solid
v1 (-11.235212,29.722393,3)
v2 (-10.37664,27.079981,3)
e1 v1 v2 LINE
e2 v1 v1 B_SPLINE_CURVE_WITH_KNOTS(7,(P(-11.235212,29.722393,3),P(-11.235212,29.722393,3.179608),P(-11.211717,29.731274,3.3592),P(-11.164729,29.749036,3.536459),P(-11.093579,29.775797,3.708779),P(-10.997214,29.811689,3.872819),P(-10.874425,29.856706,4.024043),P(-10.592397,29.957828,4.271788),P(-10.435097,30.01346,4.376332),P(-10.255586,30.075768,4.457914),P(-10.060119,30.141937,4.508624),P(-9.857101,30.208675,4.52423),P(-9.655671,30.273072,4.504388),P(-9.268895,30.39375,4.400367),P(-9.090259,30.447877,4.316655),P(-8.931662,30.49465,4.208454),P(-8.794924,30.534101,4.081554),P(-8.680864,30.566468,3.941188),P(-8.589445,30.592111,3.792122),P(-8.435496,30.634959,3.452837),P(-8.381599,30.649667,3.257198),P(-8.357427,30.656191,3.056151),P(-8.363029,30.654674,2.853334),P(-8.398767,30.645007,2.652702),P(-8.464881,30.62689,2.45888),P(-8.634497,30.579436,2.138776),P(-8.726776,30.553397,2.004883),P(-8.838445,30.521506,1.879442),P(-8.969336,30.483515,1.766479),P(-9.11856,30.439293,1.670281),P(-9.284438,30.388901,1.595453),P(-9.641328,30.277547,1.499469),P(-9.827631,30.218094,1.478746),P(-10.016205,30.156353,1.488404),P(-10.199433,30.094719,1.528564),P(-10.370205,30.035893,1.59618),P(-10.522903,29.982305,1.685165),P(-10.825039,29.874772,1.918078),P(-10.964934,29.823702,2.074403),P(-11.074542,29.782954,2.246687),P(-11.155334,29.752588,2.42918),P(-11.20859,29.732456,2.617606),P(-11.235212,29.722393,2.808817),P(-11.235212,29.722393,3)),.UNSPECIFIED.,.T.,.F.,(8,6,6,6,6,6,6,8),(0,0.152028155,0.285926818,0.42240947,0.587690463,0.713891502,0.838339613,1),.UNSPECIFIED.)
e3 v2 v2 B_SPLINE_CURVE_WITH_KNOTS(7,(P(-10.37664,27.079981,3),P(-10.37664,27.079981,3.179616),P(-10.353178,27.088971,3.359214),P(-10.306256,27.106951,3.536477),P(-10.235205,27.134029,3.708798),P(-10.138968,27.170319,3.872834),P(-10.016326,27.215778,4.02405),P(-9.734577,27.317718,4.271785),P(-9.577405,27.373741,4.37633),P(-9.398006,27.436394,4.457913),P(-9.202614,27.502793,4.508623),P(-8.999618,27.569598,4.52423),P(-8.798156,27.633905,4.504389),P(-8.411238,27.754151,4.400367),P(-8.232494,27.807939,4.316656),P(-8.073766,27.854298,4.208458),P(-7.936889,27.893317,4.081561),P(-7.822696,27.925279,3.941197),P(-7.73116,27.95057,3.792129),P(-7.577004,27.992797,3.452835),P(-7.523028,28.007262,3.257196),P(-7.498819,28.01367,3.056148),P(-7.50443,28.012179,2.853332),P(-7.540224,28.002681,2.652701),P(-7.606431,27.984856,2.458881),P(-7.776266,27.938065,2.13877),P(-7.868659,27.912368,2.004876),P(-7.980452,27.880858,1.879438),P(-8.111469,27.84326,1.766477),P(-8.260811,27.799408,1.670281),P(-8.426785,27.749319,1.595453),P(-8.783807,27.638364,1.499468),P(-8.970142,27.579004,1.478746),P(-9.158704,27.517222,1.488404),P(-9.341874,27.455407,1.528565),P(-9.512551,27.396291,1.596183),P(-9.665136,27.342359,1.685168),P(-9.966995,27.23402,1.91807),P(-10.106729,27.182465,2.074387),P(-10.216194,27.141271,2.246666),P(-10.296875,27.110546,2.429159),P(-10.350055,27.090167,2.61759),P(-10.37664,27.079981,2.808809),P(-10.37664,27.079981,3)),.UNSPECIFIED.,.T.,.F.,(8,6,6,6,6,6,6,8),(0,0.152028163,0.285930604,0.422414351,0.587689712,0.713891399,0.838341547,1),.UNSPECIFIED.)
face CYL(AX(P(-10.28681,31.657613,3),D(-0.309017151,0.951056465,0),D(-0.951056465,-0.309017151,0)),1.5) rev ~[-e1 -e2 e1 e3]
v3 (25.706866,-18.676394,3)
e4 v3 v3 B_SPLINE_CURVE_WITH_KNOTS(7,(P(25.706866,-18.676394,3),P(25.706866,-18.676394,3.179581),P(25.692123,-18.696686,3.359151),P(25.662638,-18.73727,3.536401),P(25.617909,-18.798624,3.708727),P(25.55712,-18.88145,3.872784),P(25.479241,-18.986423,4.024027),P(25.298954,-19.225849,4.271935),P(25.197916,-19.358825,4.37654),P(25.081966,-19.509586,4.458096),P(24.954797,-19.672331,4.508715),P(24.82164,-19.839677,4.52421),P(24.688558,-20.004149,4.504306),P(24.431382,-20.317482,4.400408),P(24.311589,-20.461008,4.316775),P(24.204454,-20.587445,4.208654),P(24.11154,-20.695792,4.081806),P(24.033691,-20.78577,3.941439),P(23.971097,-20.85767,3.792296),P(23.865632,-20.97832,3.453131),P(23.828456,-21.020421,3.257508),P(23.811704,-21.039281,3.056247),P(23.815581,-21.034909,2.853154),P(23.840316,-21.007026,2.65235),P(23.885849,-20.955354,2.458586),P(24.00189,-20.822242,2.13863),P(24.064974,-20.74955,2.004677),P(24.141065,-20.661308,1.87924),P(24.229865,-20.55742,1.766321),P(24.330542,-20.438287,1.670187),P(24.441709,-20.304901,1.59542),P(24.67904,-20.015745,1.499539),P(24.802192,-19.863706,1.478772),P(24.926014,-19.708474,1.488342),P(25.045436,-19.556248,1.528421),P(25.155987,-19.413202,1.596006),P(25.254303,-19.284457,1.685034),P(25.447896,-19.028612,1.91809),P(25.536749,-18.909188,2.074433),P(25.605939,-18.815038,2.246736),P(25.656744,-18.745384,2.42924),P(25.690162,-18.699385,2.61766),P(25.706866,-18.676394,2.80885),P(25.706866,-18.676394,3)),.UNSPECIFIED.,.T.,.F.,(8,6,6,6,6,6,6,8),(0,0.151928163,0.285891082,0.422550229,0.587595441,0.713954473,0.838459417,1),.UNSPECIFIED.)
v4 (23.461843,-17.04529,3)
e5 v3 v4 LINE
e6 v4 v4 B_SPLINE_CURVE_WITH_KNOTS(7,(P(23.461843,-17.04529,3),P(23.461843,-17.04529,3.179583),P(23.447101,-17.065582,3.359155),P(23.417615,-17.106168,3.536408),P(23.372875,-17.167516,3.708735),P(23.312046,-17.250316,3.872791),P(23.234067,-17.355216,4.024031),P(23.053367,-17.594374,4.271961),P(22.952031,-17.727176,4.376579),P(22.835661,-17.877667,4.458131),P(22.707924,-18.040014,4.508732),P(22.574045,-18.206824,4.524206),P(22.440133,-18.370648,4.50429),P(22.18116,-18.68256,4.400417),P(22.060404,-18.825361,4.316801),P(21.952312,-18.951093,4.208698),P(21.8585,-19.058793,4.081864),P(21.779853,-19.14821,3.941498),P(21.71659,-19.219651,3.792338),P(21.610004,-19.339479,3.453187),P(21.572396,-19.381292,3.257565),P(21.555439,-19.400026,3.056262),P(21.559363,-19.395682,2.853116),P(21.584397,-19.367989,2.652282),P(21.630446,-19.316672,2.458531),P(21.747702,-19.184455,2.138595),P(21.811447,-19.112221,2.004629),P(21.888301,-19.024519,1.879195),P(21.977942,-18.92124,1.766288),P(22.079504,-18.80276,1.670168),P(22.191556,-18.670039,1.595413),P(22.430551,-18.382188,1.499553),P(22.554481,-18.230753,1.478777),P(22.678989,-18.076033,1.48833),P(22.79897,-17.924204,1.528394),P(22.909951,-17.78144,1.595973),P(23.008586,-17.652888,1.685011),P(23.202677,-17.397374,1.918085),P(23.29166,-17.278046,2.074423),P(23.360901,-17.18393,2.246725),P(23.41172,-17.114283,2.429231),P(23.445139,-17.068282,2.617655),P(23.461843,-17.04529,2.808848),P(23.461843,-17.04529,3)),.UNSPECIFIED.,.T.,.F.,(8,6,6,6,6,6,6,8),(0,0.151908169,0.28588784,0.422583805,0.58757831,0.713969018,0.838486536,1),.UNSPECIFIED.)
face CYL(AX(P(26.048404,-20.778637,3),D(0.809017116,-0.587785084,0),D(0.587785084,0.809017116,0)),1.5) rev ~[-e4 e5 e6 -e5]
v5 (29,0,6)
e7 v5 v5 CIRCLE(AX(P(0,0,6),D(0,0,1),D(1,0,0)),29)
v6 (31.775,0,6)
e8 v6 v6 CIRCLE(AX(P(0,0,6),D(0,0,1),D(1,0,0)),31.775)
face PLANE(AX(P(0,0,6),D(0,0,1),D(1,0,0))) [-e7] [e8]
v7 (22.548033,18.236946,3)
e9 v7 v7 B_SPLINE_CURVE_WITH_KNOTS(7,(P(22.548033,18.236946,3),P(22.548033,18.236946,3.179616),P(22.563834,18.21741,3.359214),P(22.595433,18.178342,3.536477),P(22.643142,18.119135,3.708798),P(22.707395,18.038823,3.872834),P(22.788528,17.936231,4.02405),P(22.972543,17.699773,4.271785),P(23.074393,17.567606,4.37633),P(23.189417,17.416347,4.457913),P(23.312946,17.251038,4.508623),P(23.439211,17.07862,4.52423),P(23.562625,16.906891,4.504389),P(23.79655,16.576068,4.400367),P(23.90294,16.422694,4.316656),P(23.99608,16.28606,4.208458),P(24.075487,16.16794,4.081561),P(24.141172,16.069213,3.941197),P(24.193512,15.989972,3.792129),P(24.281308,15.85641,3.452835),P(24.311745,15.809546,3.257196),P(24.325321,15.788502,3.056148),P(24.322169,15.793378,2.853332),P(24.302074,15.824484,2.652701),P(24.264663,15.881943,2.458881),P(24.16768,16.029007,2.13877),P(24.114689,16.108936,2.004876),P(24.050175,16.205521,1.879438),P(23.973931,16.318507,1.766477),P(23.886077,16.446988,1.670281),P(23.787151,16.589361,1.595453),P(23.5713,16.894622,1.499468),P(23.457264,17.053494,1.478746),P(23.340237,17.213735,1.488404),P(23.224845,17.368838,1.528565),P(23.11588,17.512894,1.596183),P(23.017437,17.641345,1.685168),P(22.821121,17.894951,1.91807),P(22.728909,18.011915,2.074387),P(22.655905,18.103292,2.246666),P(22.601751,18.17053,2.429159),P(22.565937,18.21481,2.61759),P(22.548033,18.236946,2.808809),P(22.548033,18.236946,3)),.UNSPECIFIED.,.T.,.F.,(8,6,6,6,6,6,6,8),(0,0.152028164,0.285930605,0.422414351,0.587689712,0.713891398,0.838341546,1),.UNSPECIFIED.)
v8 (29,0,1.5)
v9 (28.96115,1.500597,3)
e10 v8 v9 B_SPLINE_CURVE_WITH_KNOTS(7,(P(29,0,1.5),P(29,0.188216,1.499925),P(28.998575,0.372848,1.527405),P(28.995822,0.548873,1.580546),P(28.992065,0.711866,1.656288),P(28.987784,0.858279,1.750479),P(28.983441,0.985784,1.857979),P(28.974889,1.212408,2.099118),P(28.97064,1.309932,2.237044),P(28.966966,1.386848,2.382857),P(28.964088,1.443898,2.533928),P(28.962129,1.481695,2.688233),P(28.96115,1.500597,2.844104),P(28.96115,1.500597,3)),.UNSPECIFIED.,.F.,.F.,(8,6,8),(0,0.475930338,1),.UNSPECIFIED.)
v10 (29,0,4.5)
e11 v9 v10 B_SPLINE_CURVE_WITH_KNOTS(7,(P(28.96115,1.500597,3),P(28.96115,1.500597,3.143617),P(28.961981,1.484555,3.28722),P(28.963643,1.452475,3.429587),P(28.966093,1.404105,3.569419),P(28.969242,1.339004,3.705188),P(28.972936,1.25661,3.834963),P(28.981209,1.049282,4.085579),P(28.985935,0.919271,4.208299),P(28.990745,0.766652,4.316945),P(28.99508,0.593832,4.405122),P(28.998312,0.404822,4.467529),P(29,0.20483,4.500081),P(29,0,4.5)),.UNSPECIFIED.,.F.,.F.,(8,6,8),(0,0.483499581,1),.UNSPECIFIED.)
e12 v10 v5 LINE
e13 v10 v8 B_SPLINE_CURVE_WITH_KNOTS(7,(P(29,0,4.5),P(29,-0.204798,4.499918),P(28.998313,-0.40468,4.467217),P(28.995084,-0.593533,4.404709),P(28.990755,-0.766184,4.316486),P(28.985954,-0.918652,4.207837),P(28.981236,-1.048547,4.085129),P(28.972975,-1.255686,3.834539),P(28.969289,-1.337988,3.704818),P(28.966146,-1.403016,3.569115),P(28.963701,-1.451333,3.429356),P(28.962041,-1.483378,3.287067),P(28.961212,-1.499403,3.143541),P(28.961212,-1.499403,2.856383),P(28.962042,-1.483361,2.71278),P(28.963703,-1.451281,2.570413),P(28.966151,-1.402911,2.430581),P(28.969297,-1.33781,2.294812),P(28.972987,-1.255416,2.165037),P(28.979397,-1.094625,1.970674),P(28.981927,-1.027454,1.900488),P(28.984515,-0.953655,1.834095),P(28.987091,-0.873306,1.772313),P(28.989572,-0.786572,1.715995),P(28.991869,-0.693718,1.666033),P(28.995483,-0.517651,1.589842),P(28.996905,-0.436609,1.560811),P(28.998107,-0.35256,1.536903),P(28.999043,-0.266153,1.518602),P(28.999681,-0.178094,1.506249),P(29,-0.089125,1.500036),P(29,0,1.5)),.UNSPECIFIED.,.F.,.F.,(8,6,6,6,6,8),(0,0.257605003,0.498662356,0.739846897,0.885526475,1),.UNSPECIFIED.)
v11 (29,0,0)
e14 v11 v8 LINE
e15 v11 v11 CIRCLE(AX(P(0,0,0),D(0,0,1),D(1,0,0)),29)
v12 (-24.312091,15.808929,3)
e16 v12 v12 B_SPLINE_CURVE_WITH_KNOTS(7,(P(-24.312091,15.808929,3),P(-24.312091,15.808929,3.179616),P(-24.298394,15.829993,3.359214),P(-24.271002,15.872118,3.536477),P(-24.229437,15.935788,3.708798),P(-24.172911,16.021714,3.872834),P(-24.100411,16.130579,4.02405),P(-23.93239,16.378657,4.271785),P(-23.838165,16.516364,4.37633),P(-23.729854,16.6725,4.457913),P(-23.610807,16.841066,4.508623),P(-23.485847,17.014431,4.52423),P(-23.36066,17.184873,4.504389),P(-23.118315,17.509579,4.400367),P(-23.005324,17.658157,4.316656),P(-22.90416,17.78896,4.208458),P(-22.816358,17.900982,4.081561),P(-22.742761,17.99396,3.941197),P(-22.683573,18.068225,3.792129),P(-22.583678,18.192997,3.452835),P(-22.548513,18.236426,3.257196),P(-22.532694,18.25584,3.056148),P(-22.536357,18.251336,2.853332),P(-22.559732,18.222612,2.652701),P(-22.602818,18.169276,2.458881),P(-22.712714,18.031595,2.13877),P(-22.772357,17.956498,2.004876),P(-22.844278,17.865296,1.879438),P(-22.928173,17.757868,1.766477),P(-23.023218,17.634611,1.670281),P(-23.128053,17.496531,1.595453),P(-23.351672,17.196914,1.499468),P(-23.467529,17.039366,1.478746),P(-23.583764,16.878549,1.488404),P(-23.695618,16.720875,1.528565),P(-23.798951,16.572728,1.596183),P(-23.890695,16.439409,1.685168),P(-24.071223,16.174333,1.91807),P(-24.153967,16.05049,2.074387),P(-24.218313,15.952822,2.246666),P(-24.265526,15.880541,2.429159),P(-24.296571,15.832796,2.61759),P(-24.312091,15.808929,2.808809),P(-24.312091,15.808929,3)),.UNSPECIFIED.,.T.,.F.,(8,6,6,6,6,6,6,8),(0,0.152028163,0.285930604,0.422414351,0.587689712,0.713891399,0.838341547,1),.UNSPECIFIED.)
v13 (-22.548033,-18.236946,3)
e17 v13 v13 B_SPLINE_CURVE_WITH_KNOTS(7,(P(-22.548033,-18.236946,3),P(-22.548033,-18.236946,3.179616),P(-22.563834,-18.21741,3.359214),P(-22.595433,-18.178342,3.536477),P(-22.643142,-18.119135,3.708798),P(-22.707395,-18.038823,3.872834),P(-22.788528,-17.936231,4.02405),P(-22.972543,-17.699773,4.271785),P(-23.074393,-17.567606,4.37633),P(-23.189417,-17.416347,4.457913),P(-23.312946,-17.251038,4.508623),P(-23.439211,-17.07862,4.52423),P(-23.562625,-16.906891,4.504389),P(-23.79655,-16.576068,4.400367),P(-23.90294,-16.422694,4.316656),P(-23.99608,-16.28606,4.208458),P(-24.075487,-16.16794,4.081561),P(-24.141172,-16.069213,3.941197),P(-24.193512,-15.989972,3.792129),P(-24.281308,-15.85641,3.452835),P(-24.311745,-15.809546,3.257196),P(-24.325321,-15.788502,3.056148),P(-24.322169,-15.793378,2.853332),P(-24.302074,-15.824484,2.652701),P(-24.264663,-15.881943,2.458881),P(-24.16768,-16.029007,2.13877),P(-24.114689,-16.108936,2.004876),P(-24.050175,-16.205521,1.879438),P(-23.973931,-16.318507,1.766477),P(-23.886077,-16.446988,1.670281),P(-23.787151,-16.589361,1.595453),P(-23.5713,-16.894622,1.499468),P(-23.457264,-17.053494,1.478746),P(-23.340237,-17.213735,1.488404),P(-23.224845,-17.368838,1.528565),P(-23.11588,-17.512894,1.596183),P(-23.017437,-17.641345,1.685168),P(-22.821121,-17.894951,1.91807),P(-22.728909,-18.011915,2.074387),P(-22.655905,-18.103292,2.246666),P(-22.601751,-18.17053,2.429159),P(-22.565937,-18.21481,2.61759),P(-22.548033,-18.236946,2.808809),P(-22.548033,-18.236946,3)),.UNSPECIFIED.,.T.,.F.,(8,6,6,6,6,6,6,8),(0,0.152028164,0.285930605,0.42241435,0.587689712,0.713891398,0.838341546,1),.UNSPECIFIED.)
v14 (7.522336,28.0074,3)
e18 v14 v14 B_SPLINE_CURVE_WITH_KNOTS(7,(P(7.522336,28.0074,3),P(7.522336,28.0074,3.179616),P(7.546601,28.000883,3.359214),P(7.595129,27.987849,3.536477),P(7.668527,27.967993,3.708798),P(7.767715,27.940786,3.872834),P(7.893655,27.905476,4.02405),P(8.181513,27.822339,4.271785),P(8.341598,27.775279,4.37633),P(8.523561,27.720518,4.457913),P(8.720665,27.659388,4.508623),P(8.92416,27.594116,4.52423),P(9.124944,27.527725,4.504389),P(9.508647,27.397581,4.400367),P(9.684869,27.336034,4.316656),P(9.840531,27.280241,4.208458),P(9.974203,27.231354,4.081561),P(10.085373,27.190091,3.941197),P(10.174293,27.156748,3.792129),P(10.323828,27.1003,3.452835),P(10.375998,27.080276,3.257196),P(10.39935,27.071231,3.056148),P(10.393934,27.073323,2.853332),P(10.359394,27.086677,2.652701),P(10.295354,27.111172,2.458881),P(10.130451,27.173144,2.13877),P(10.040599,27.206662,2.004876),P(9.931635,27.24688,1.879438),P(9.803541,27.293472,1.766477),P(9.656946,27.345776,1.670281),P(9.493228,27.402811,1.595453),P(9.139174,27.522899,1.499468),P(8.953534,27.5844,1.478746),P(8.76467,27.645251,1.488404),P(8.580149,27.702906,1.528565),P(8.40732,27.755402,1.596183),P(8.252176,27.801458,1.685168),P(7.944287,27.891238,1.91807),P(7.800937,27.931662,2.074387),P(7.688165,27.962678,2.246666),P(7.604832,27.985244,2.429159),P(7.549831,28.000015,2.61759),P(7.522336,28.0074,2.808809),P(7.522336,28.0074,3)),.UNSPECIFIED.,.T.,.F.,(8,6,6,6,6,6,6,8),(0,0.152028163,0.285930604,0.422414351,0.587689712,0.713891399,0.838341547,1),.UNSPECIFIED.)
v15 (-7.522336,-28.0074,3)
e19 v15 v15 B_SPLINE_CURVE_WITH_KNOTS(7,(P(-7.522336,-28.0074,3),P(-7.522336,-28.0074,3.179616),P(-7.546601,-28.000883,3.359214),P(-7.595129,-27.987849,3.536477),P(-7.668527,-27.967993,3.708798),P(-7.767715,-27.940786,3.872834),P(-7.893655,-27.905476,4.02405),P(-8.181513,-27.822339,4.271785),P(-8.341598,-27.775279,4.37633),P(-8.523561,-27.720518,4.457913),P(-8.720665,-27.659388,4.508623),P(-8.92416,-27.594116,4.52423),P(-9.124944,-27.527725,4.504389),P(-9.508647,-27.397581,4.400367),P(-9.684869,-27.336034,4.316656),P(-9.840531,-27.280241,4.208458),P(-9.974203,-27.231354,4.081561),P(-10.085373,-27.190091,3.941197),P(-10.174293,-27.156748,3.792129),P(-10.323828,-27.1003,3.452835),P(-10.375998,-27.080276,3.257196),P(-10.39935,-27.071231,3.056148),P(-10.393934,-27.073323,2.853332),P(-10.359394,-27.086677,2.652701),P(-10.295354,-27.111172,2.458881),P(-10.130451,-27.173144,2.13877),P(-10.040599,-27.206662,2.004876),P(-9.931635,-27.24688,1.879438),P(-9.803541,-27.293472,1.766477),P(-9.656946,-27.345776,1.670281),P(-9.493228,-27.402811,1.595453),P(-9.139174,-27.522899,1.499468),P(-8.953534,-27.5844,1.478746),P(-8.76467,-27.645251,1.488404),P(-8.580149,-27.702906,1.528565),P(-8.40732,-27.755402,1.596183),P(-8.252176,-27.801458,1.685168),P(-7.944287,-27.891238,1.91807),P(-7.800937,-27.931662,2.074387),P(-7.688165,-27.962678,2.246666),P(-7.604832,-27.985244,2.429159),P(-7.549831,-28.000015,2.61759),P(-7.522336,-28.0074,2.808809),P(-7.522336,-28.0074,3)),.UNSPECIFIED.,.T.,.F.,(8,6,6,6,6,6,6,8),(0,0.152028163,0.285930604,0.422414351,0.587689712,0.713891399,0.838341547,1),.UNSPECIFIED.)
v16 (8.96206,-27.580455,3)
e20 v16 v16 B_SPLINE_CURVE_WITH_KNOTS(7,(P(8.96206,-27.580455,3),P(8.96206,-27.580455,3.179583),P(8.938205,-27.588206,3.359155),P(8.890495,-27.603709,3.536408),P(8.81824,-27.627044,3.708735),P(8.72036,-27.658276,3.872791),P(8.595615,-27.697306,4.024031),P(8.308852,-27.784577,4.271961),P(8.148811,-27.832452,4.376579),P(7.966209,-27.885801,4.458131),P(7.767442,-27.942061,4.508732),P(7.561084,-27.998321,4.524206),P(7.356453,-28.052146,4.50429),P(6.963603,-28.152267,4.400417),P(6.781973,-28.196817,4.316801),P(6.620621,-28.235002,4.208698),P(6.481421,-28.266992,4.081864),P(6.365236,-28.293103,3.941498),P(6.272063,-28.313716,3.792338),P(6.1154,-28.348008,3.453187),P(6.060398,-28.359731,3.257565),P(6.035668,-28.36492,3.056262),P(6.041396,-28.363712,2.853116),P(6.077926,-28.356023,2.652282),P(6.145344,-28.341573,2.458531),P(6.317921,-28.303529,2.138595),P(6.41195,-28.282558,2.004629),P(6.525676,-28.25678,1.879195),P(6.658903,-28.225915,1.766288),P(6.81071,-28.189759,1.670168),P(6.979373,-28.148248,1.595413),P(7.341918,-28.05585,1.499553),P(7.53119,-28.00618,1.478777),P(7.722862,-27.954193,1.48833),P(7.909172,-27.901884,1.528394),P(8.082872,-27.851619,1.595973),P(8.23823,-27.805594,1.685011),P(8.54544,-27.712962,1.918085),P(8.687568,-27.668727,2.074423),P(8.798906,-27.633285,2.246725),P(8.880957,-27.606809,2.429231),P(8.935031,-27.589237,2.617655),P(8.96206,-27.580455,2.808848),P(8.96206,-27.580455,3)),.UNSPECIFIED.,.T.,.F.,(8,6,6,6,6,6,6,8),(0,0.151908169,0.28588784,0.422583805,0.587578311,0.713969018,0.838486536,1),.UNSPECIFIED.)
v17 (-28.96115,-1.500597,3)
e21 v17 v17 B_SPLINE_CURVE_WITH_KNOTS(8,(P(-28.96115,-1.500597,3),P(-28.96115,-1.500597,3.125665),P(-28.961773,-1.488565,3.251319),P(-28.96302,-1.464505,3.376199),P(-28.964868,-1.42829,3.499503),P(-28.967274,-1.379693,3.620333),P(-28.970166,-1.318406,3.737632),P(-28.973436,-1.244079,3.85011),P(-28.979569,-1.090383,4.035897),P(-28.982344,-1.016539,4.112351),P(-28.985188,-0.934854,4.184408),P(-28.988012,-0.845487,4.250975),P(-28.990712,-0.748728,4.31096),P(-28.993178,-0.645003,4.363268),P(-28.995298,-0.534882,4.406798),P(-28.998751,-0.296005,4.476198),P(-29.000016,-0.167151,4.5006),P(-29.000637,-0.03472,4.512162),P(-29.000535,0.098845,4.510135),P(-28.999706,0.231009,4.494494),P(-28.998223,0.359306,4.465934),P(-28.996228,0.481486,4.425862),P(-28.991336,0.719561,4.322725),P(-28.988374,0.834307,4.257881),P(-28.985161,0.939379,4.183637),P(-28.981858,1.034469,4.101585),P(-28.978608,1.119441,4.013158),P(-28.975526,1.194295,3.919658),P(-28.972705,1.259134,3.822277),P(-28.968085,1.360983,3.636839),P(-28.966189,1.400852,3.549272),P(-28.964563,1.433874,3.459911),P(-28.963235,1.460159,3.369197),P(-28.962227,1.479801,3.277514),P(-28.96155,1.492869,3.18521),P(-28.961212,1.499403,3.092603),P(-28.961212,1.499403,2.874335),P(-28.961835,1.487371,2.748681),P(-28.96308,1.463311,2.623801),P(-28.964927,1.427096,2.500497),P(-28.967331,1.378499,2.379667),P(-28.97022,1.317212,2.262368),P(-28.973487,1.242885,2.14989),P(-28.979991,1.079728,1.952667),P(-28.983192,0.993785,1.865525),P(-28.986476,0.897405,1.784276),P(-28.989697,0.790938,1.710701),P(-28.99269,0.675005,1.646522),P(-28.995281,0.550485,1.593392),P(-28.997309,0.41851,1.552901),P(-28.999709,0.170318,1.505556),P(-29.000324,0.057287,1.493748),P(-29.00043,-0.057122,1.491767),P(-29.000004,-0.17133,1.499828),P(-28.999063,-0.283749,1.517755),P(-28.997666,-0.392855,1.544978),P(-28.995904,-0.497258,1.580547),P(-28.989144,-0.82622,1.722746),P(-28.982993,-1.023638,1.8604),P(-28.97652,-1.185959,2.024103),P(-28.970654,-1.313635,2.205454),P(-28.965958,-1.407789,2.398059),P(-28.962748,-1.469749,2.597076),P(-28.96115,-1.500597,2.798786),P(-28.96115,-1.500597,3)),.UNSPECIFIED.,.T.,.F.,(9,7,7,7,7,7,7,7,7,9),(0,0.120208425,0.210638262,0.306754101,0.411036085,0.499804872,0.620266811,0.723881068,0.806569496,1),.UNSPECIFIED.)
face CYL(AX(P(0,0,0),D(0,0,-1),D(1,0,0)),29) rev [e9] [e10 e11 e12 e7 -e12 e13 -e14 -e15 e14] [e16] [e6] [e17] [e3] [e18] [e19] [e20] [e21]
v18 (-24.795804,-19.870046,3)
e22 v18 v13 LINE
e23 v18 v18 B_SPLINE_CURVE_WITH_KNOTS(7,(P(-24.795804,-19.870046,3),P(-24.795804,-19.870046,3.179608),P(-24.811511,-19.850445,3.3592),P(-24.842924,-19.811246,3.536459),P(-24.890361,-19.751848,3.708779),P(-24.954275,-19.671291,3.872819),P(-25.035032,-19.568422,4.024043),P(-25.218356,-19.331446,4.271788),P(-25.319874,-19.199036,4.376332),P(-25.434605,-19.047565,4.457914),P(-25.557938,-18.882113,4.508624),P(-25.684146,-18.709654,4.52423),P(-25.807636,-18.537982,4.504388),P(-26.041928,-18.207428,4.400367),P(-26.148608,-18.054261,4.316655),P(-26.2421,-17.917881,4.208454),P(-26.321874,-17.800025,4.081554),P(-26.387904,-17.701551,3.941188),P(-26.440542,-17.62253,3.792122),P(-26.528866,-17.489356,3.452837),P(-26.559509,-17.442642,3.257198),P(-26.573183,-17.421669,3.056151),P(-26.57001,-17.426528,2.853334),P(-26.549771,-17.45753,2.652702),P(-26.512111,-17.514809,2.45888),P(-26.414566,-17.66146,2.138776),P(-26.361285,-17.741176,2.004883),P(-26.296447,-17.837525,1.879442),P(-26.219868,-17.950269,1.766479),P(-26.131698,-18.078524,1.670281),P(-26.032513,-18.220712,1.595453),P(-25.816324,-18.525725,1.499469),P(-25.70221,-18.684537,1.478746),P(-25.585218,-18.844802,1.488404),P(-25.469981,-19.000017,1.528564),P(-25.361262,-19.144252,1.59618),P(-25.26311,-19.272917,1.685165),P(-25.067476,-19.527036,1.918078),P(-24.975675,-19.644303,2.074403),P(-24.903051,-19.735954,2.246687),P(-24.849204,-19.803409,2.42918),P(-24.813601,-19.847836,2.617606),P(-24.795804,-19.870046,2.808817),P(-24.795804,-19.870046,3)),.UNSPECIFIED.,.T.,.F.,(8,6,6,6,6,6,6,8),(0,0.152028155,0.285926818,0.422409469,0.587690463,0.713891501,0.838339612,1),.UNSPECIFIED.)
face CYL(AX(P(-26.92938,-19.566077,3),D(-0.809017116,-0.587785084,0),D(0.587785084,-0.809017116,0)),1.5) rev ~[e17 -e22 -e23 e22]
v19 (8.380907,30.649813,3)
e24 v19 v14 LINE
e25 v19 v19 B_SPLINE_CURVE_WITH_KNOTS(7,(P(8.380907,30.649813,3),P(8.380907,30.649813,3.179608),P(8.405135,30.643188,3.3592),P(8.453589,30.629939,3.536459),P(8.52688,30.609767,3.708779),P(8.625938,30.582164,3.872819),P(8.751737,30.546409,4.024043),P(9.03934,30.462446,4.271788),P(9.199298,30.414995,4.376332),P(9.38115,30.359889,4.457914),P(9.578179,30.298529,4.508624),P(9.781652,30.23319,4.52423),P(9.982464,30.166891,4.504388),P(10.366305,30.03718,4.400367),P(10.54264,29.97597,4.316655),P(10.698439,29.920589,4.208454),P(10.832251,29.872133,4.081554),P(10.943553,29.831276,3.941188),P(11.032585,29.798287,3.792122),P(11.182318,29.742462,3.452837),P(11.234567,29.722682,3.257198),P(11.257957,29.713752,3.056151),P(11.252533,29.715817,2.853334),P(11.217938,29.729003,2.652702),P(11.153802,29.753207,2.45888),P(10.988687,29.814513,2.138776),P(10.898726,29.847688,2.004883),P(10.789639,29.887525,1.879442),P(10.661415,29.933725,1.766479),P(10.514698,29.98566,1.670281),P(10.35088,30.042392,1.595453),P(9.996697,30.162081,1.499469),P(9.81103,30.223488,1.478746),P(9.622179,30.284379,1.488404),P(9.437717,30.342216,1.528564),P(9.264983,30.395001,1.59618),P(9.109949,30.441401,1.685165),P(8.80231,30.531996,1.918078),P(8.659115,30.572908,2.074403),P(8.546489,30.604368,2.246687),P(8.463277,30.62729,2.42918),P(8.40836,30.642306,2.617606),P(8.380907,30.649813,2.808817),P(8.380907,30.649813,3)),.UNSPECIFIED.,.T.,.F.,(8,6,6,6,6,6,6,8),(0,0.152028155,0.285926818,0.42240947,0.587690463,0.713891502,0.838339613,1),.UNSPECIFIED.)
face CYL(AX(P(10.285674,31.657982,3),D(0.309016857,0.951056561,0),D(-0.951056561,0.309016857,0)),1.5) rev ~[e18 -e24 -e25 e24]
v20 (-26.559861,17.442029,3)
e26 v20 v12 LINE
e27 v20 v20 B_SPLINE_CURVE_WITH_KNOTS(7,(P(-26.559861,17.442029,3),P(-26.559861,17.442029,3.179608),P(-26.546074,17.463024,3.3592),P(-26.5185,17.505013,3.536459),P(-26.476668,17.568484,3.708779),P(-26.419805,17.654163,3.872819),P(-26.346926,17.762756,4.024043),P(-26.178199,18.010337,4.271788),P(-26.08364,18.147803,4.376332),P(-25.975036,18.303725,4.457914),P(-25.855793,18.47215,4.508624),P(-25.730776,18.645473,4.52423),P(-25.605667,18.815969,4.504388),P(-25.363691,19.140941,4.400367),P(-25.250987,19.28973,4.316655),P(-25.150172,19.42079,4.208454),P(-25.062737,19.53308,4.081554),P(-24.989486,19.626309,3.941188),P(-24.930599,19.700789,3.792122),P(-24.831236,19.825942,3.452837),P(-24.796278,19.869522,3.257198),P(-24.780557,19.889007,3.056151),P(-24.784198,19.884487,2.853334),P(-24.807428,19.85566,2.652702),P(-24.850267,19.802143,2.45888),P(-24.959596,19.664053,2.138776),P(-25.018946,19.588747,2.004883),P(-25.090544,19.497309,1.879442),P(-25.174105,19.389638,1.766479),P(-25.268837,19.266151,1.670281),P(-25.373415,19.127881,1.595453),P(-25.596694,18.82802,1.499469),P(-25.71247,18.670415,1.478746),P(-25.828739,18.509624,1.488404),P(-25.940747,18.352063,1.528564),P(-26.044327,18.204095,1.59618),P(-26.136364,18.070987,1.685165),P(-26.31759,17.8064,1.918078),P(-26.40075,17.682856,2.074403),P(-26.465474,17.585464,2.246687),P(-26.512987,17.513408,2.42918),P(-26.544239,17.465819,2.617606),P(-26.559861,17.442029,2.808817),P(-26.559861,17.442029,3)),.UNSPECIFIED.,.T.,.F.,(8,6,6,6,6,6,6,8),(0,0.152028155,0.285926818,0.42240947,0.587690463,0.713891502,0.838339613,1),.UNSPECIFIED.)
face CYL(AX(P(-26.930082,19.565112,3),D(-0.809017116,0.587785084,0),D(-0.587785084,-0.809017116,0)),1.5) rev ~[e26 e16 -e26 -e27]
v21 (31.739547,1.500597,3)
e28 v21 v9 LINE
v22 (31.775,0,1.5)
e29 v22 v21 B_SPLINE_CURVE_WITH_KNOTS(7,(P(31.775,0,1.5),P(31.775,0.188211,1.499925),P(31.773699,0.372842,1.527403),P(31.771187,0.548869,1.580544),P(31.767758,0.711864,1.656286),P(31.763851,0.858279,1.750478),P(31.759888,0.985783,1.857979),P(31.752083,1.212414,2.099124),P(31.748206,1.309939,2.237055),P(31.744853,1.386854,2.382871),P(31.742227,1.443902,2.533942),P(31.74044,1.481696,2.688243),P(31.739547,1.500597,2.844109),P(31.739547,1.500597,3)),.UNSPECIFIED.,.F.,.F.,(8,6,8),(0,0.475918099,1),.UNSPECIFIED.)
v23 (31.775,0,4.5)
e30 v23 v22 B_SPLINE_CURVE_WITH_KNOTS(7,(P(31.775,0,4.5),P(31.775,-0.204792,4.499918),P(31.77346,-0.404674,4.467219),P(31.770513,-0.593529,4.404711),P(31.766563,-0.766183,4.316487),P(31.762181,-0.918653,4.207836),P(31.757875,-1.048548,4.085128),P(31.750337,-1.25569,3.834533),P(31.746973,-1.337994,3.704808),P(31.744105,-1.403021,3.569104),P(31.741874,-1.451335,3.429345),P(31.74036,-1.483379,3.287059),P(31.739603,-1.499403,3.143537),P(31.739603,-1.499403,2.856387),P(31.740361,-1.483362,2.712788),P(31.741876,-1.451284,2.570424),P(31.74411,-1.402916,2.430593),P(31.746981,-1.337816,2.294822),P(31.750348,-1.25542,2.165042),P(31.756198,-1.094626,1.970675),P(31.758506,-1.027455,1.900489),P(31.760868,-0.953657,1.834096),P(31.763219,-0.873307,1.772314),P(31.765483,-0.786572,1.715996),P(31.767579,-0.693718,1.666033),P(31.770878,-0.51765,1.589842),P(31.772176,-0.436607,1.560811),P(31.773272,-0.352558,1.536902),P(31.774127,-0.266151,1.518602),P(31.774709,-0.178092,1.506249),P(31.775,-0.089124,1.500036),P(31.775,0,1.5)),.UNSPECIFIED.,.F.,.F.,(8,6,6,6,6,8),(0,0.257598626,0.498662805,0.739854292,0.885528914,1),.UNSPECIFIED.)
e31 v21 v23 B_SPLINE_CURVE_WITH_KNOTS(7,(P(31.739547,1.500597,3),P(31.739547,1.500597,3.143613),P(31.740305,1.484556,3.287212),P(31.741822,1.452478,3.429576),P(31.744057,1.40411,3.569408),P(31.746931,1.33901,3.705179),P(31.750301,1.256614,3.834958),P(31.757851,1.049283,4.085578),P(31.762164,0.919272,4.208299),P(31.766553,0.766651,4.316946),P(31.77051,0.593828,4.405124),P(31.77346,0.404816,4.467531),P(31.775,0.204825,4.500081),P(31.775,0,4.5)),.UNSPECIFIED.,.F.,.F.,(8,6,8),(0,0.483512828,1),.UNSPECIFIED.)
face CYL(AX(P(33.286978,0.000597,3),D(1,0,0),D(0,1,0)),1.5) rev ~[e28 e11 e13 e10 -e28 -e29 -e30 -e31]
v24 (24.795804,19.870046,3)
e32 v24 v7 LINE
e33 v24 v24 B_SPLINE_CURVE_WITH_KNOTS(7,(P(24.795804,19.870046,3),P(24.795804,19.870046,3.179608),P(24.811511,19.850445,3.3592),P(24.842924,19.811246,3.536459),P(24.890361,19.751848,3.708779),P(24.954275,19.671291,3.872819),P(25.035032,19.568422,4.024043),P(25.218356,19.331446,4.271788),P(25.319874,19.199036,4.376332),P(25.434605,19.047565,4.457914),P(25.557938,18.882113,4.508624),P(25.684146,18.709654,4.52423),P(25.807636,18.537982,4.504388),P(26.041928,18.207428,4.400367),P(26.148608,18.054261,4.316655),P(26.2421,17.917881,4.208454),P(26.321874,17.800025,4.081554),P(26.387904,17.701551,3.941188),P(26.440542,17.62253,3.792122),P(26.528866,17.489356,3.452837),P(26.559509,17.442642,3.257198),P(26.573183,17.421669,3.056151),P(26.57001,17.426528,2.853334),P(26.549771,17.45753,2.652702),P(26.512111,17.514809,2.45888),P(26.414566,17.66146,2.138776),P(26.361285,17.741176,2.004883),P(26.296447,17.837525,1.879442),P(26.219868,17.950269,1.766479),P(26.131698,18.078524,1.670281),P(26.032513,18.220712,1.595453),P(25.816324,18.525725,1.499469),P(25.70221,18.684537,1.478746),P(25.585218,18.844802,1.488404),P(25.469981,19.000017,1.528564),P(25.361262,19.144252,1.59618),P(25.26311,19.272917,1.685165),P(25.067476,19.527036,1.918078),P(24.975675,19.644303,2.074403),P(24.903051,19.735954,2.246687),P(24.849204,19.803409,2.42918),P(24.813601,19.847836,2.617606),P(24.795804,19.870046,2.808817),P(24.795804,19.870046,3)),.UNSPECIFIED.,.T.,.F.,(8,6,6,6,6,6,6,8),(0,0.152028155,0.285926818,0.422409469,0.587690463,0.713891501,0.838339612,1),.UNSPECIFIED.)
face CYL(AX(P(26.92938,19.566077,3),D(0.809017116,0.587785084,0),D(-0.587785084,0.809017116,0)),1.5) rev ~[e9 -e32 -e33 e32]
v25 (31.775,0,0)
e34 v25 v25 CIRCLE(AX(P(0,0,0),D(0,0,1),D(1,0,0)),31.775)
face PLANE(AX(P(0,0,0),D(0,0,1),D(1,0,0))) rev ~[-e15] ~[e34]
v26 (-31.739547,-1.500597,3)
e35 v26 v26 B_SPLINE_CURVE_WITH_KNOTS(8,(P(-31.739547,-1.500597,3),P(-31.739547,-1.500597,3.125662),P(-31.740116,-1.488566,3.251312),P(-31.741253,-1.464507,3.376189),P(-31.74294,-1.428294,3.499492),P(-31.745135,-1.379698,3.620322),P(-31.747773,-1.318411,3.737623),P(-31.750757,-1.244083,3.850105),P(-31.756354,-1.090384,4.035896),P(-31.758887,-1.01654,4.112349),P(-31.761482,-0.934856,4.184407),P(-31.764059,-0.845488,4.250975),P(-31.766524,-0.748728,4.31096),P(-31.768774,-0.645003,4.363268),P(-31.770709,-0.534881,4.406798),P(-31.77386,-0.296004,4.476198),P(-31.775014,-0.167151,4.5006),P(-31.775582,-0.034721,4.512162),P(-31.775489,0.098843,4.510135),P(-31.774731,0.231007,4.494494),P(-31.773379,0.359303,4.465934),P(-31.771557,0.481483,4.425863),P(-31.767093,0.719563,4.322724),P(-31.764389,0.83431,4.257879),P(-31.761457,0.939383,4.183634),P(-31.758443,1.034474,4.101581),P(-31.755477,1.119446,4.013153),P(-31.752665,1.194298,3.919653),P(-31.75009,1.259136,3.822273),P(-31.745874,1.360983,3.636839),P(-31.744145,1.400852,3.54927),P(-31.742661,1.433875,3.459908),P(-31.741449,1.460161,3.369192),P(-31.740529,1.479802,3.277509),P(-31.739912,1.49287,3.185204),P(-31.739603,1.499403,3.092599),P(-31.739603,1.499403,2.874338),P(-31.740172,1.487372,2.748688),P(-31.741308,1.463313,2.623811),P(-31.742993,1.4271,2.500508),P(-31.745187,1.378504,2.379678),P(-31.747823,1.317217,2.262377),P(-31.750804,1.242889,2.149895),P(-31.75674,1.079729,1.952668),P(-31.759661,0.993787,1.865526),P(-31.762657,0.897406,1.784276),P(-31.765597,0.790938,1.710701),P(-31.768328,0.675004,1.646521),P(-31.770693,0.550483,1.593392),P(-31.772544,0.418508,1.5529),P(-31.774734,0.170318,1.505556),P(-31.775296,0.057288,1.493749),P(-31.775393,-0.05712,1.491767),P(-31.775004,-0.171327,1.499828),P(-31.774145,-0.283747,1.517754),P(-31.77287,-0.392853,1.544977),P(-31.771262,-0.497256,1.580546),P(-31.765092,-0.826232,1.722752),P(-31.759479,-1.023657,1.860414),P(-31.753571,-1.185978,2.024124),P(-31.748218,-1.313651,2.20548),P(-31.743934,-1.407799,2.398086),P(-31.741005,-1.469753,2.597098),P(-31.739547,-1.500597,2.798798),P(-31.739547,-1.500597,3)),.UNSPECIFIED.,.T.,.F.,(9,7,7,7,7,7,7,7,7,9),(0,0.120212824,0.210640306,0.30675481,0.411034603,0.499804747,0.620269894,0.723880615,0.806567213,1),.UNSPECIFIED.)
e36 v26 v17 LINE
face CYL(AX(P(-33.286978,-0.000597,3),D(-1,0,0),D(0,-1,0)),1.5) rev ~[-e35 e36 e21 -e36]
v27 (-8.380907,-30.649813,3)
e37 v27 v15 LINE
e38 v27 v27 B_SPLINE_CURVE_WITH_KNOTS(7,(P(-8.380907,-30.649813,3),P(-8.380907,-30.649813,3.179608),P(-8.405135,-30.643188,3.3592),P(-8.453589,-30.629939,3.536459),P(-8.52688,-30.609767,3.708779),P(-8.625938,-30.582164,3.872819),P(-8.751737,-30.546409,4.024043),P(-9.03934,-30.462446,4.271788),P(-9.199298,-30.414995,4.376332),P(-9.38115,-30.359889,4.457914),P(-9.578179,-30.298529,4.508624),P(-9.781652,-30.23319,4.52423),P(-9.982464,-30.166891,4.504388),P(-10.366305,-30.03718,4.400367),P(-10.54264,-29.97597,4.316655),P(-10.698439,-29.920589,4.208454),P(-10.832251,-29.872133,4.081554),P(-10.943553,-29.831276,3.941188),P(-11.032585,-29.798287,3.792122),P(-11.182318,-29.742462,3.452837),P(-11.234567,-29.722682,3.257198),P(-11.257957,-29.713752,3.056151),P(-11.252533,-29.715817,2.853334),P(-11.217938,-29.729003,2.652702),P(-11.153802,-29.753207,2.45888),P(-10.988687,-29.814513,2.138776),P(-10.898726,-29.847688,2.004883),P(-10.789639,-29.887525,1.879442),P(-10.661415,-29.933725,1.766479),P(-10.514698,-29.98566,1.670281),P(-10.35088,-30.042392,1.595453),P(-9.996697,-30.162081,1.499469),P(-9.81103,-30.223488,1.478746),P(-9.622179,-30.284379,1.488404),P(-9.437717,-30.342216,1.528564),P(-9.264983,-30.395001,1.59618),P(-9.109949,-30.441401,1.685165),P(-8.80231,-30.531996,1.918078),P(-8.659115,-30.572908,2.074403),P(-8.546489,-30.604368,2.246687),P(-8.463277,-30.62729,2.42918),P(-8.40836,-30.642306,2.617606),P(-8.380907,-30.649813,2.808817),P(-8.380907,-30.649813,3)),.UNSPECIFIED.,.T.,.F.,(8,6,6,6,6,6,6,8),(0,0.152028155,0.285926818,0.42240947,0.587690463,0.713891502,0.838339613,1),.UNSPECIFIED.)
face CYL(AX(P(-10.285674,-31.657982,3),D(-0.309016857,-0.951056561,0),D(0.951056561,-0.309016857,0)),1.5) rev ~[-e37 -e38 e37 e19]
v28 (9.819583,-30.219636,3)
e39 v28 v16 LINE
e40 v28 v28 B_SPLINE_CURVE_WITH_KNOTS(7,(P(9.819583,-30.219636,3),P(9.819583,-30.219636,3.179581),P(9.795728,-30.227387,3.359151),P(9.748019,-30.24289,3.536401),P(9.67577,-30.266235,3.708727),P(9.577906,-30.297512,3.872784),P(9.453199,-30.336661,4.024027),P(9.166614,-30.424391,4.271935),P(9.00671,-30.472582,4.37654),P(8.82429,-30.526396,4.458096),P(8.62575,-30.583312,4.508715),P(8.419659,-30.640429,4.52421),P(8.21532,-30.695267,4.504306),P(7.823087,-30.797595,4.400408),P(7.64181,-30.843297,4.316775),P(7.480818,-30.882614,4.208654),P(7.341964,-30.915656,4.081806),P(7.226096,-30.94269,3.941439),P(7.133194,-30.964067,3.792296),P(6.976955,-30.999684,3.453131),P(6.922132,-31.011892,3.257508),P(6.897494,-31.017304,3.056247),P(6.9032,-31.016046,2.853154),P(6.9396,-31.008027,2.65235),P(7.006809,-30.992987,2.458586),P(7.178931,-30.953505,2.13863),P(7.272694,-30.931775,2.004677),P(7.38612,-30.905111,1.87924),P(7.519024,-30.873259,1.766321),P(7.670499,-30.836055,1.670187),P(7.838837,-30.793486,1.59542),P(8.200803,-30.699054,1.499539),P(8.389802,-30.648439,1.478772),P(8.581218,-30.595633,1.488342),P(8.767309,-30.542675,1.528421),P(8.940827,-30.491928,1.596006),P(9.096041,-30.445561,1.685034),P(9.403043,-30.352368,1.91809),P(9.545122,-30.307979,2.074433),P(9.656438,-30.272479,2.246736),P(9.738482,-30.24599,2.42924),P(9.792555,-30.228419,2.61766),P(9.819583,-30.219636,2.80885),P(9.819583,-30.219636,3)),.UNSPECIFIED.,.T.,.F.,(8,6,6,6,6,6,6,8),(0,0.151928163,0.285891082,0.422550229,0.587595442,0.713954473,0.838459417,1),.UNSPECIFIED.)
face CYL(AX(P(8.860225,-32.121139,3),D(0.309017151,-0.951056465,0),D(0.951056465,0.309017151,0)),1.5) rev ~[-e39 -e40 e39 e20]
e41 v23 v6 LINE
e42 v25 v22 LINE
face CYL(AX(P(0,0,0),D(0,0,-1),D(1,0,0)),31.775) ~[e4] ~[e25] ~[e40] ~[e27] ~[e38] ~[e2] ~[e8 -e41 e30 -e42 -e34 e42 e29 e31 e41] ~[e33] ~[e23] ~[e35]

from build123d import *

# Parameters (mm, degrees)
F0_R           = 29
F1_DEPTH       = 6
F9_R           = 1.5
F12_DEPTH      = 5
F12_DEPTH_BACK = 10
F10_R          = 1.5
F13_DEPTH      = 5
F13_DEPTH_BACK = 10
F8_R           = 1.5
F14_DEPTH      = 5
F14_DEPTH_BACK = 10
F11_R          = 1.5
F15_DEPTH      = 5
F15_DEPTH_BACK = 10
F4_R           = 1.5
F16_DEPTH      = 5
F16_DEPTH_BACK = 10
F7_R           = 1.5
F17_DEPTH      = 5
F17_DEPTH_BACK = 10
F6_R           = 1.5
F18_DEPTH      = 5
F18_DEPTH_BACK = 10
F5_R           = 1.5
F19_DEPTH      = 5
F19_DEPTH_BACK = 10
F3_R           = 1.5
F20_DEPTH      = 5
F20_DEPTH_BACK = 10
F21_R          = 36.5
F21_R_2        = 31.775
F22_DEPTH      = 6
F2_R           = 1.5
F23_DEPTH      = 10


with BuildPart() as f1:
    # F0 (on Top) → F1 (new body)
    with BuildSketch(Plane.XY):
        Polygon((33.286979, -10.815593), (33.286977, 10.815597), (20.572482, 28.315596), (-2e-06, 35), (-20.572485, 28.315594), (-33.286979, 10.815593), (-33.286977, -10.815597), (-20.572482, -28.315596), (2e-06, -35), (20.572485, -28.315594), align=None)
        Circle(F0_R, mode=Mode.SUBTRACT)
    extrude(amount=F1_DEPTH)

    # F9 (on face) → F12 (cut, two sides)
    with BuildSketch(Plane(origin=(-33.286978, -2e-06, 0), x_dir=(0, -1, 0), z_dir=(-1, 0, 0))) as f12_sk:
        with Locations((0.000595, 3)):
            Circle(F9_R)
    extrude(amount=-F12_DEPTH, mode=Mode.SUBTRACT)
    extrude(f12_sk.sketch, amount=-F12_DEPTH_BACK, mode=Mode.SUBTRACT)

    # F10 (on face) → F13 (cut, two sides)
    with BuildSketch(Plane(origin=(10.286244, -31.657797, 0), x_dir=(0.951056, 0.309017, 0), z_dir=(0.309017, -0.951056, 0))) as f13_sk:
        with Locations((-1.499405, 3)):
            Circle(F10_R)
    extrude(amount=-F13_DEPTH, mode=Mode.SUBTRACT)
    extrude(f13_sk.sketch, amount=-F13_DEPTH_BACK, mode=Mode.SUBTRACT)

    # F8 (on face) → F14 (cut, two sides)
    with BuildSketch(Plane(origin=(33.286978, 2e-06, 0), x_dir=(0, 1, 0), z_dir=(1, 0, 0))) as f14_sk:
        with Locations((0.000595, 3)):
            Circle(F8_R)
    extrude(amount=F14_DEPTH, mode=Mode.SUBTRACT)
    extrude(f14_sk.sketch, amount=-F14_DEPTH_BACK, mode=Mode.SUBTRACT)

    # F11 (on face) → F15 (cut, two sides)
    with BuildSketch(Plane(origin=(26.929732, -19.565593, 0), x_dir=(0.587785, 0.809017, 0), z_dir=(0.809017, -0.587785, 0))) as f15_sk:
        with Locations((-1.499405, 3)):
            Circle(F11_R)
    extrude(amount=F15_DEPTH, mode=Mode.SUBTRACT)
    extrude(f15_sk.sketch, amount=-F15_DEPTH_BACK, mode=Mode.SUBTRACT)

    # F4 (on face) → F16 (cut, two sides)
    with BuildSketch(Plane(origin=(-26.92973, -19.565596, 0), x_dir=(0.587785, -0.809017, 0), z_dir=(-0.809017, -0.587785, 0))) as f16_sk:
        with Locations((0.000595, 3)):
            Circle(F4_R)
    extrude(amount=F16_DEPTH, mode=Mode.SUBTRACT)
    extrude(f16_sk.sketch, amount=-F16_DEPTH_BACK, mode=Mode.SUBTRACT)

    # F7 (on face) → F17 (cut, two sides)
    with BuildSketch(Plane(origin=(-26.929732, 19.565593, 0), x_dir=(-0.587785, -0.809017, 0), z_dir=(-0.809017, 0.587785, 0))) as f17_sk:
        with Locations((0.000595, 3)):
            Circle(F7_R)
    extrude(amount=F17_DEPTH, mode=Mode.SUBTRACT)
    extrude(f17_sk.sketch, amount=-F17_DEPTH_BACK, mode=Mode.SUBTRACT)

    # F6 (on face) → F18 (cut, two sides)
    with BuildSketch(Plane(origin=(26.92973, 19.565596, 0), x_dir=(-0.587785, 0.809017, 0), z_dir=(0.809017, 0.587785, 0))) as f18_sk:
        with Locations((0.000595, 3)):
            Circle(F6_R)
    extrude(amount=-F18_DEPTH, mode=Mode.SUBTRACT)
    extrude(f18_sk.sketch, amount=-F18_DEPTH_BACK, mode=Mode.SUBTRACT)

    # F5 (on face) → F19 (cut, two sides)
    with BuildSketch(Plane(origin=(-10.28624, -31.657798, 0), x_dir=(0.951057, -0.309017, 0), z_dir=(-0.309017, -0.951057, 0))) as f19_sk:
        with Locations((0.000595, 3)):
            Circle(F5_R)
    extrude(amount=-F19_DEPTH, mode=Mode.SUBTRACT)
    extrude(f19_sk.sketch, amount=-F19_DEPTH_BACK, mode=Mode.SUBTRACT)

    # F3 (on face) → F20 (cut, two sides)
    with BuildSketch(Plane(origin=(10.28624, 31.657798, 0), x_dir=(-0.951057, 0.309017, 0), z_dir=(0.309017, 0.951057, 0))) as f20_sk:
        with Locations((0.000595, 3)):
            Circle(F3_R)
    extrude(amount=-F20_DEPTH, mode=Mode.SUBTRACT)
    extrude(f20_sk.sketch, amount=-F20_DEPTH_BACK, mode=Mode.SUBTRACT)

    # F21 (on Top) → F22 (cut)
    with BuildSketch(Plane.XY):
        Circle(F21_R)
        Circle(F21_R_2, mode=Mode.SUBTRACT)
    extrude(amount=F22_DEPTH, mode=Mode.SUBTRACT)

    # F2 (on face) → F23 (cut)
    with BuildSketch(Plane(origin=(-10.286244, 31.657797, 0), x_dir=(-0.951056, -0.309017, 0), z_dir=(-0.309017, 0.951056, 0))):
        with Locations((0.000595, 3)):
            Circle(F2_R)
    extrude(amount=-F23_DEPTH, mode=Mode.SUBTRACT)


solid = f1.part
